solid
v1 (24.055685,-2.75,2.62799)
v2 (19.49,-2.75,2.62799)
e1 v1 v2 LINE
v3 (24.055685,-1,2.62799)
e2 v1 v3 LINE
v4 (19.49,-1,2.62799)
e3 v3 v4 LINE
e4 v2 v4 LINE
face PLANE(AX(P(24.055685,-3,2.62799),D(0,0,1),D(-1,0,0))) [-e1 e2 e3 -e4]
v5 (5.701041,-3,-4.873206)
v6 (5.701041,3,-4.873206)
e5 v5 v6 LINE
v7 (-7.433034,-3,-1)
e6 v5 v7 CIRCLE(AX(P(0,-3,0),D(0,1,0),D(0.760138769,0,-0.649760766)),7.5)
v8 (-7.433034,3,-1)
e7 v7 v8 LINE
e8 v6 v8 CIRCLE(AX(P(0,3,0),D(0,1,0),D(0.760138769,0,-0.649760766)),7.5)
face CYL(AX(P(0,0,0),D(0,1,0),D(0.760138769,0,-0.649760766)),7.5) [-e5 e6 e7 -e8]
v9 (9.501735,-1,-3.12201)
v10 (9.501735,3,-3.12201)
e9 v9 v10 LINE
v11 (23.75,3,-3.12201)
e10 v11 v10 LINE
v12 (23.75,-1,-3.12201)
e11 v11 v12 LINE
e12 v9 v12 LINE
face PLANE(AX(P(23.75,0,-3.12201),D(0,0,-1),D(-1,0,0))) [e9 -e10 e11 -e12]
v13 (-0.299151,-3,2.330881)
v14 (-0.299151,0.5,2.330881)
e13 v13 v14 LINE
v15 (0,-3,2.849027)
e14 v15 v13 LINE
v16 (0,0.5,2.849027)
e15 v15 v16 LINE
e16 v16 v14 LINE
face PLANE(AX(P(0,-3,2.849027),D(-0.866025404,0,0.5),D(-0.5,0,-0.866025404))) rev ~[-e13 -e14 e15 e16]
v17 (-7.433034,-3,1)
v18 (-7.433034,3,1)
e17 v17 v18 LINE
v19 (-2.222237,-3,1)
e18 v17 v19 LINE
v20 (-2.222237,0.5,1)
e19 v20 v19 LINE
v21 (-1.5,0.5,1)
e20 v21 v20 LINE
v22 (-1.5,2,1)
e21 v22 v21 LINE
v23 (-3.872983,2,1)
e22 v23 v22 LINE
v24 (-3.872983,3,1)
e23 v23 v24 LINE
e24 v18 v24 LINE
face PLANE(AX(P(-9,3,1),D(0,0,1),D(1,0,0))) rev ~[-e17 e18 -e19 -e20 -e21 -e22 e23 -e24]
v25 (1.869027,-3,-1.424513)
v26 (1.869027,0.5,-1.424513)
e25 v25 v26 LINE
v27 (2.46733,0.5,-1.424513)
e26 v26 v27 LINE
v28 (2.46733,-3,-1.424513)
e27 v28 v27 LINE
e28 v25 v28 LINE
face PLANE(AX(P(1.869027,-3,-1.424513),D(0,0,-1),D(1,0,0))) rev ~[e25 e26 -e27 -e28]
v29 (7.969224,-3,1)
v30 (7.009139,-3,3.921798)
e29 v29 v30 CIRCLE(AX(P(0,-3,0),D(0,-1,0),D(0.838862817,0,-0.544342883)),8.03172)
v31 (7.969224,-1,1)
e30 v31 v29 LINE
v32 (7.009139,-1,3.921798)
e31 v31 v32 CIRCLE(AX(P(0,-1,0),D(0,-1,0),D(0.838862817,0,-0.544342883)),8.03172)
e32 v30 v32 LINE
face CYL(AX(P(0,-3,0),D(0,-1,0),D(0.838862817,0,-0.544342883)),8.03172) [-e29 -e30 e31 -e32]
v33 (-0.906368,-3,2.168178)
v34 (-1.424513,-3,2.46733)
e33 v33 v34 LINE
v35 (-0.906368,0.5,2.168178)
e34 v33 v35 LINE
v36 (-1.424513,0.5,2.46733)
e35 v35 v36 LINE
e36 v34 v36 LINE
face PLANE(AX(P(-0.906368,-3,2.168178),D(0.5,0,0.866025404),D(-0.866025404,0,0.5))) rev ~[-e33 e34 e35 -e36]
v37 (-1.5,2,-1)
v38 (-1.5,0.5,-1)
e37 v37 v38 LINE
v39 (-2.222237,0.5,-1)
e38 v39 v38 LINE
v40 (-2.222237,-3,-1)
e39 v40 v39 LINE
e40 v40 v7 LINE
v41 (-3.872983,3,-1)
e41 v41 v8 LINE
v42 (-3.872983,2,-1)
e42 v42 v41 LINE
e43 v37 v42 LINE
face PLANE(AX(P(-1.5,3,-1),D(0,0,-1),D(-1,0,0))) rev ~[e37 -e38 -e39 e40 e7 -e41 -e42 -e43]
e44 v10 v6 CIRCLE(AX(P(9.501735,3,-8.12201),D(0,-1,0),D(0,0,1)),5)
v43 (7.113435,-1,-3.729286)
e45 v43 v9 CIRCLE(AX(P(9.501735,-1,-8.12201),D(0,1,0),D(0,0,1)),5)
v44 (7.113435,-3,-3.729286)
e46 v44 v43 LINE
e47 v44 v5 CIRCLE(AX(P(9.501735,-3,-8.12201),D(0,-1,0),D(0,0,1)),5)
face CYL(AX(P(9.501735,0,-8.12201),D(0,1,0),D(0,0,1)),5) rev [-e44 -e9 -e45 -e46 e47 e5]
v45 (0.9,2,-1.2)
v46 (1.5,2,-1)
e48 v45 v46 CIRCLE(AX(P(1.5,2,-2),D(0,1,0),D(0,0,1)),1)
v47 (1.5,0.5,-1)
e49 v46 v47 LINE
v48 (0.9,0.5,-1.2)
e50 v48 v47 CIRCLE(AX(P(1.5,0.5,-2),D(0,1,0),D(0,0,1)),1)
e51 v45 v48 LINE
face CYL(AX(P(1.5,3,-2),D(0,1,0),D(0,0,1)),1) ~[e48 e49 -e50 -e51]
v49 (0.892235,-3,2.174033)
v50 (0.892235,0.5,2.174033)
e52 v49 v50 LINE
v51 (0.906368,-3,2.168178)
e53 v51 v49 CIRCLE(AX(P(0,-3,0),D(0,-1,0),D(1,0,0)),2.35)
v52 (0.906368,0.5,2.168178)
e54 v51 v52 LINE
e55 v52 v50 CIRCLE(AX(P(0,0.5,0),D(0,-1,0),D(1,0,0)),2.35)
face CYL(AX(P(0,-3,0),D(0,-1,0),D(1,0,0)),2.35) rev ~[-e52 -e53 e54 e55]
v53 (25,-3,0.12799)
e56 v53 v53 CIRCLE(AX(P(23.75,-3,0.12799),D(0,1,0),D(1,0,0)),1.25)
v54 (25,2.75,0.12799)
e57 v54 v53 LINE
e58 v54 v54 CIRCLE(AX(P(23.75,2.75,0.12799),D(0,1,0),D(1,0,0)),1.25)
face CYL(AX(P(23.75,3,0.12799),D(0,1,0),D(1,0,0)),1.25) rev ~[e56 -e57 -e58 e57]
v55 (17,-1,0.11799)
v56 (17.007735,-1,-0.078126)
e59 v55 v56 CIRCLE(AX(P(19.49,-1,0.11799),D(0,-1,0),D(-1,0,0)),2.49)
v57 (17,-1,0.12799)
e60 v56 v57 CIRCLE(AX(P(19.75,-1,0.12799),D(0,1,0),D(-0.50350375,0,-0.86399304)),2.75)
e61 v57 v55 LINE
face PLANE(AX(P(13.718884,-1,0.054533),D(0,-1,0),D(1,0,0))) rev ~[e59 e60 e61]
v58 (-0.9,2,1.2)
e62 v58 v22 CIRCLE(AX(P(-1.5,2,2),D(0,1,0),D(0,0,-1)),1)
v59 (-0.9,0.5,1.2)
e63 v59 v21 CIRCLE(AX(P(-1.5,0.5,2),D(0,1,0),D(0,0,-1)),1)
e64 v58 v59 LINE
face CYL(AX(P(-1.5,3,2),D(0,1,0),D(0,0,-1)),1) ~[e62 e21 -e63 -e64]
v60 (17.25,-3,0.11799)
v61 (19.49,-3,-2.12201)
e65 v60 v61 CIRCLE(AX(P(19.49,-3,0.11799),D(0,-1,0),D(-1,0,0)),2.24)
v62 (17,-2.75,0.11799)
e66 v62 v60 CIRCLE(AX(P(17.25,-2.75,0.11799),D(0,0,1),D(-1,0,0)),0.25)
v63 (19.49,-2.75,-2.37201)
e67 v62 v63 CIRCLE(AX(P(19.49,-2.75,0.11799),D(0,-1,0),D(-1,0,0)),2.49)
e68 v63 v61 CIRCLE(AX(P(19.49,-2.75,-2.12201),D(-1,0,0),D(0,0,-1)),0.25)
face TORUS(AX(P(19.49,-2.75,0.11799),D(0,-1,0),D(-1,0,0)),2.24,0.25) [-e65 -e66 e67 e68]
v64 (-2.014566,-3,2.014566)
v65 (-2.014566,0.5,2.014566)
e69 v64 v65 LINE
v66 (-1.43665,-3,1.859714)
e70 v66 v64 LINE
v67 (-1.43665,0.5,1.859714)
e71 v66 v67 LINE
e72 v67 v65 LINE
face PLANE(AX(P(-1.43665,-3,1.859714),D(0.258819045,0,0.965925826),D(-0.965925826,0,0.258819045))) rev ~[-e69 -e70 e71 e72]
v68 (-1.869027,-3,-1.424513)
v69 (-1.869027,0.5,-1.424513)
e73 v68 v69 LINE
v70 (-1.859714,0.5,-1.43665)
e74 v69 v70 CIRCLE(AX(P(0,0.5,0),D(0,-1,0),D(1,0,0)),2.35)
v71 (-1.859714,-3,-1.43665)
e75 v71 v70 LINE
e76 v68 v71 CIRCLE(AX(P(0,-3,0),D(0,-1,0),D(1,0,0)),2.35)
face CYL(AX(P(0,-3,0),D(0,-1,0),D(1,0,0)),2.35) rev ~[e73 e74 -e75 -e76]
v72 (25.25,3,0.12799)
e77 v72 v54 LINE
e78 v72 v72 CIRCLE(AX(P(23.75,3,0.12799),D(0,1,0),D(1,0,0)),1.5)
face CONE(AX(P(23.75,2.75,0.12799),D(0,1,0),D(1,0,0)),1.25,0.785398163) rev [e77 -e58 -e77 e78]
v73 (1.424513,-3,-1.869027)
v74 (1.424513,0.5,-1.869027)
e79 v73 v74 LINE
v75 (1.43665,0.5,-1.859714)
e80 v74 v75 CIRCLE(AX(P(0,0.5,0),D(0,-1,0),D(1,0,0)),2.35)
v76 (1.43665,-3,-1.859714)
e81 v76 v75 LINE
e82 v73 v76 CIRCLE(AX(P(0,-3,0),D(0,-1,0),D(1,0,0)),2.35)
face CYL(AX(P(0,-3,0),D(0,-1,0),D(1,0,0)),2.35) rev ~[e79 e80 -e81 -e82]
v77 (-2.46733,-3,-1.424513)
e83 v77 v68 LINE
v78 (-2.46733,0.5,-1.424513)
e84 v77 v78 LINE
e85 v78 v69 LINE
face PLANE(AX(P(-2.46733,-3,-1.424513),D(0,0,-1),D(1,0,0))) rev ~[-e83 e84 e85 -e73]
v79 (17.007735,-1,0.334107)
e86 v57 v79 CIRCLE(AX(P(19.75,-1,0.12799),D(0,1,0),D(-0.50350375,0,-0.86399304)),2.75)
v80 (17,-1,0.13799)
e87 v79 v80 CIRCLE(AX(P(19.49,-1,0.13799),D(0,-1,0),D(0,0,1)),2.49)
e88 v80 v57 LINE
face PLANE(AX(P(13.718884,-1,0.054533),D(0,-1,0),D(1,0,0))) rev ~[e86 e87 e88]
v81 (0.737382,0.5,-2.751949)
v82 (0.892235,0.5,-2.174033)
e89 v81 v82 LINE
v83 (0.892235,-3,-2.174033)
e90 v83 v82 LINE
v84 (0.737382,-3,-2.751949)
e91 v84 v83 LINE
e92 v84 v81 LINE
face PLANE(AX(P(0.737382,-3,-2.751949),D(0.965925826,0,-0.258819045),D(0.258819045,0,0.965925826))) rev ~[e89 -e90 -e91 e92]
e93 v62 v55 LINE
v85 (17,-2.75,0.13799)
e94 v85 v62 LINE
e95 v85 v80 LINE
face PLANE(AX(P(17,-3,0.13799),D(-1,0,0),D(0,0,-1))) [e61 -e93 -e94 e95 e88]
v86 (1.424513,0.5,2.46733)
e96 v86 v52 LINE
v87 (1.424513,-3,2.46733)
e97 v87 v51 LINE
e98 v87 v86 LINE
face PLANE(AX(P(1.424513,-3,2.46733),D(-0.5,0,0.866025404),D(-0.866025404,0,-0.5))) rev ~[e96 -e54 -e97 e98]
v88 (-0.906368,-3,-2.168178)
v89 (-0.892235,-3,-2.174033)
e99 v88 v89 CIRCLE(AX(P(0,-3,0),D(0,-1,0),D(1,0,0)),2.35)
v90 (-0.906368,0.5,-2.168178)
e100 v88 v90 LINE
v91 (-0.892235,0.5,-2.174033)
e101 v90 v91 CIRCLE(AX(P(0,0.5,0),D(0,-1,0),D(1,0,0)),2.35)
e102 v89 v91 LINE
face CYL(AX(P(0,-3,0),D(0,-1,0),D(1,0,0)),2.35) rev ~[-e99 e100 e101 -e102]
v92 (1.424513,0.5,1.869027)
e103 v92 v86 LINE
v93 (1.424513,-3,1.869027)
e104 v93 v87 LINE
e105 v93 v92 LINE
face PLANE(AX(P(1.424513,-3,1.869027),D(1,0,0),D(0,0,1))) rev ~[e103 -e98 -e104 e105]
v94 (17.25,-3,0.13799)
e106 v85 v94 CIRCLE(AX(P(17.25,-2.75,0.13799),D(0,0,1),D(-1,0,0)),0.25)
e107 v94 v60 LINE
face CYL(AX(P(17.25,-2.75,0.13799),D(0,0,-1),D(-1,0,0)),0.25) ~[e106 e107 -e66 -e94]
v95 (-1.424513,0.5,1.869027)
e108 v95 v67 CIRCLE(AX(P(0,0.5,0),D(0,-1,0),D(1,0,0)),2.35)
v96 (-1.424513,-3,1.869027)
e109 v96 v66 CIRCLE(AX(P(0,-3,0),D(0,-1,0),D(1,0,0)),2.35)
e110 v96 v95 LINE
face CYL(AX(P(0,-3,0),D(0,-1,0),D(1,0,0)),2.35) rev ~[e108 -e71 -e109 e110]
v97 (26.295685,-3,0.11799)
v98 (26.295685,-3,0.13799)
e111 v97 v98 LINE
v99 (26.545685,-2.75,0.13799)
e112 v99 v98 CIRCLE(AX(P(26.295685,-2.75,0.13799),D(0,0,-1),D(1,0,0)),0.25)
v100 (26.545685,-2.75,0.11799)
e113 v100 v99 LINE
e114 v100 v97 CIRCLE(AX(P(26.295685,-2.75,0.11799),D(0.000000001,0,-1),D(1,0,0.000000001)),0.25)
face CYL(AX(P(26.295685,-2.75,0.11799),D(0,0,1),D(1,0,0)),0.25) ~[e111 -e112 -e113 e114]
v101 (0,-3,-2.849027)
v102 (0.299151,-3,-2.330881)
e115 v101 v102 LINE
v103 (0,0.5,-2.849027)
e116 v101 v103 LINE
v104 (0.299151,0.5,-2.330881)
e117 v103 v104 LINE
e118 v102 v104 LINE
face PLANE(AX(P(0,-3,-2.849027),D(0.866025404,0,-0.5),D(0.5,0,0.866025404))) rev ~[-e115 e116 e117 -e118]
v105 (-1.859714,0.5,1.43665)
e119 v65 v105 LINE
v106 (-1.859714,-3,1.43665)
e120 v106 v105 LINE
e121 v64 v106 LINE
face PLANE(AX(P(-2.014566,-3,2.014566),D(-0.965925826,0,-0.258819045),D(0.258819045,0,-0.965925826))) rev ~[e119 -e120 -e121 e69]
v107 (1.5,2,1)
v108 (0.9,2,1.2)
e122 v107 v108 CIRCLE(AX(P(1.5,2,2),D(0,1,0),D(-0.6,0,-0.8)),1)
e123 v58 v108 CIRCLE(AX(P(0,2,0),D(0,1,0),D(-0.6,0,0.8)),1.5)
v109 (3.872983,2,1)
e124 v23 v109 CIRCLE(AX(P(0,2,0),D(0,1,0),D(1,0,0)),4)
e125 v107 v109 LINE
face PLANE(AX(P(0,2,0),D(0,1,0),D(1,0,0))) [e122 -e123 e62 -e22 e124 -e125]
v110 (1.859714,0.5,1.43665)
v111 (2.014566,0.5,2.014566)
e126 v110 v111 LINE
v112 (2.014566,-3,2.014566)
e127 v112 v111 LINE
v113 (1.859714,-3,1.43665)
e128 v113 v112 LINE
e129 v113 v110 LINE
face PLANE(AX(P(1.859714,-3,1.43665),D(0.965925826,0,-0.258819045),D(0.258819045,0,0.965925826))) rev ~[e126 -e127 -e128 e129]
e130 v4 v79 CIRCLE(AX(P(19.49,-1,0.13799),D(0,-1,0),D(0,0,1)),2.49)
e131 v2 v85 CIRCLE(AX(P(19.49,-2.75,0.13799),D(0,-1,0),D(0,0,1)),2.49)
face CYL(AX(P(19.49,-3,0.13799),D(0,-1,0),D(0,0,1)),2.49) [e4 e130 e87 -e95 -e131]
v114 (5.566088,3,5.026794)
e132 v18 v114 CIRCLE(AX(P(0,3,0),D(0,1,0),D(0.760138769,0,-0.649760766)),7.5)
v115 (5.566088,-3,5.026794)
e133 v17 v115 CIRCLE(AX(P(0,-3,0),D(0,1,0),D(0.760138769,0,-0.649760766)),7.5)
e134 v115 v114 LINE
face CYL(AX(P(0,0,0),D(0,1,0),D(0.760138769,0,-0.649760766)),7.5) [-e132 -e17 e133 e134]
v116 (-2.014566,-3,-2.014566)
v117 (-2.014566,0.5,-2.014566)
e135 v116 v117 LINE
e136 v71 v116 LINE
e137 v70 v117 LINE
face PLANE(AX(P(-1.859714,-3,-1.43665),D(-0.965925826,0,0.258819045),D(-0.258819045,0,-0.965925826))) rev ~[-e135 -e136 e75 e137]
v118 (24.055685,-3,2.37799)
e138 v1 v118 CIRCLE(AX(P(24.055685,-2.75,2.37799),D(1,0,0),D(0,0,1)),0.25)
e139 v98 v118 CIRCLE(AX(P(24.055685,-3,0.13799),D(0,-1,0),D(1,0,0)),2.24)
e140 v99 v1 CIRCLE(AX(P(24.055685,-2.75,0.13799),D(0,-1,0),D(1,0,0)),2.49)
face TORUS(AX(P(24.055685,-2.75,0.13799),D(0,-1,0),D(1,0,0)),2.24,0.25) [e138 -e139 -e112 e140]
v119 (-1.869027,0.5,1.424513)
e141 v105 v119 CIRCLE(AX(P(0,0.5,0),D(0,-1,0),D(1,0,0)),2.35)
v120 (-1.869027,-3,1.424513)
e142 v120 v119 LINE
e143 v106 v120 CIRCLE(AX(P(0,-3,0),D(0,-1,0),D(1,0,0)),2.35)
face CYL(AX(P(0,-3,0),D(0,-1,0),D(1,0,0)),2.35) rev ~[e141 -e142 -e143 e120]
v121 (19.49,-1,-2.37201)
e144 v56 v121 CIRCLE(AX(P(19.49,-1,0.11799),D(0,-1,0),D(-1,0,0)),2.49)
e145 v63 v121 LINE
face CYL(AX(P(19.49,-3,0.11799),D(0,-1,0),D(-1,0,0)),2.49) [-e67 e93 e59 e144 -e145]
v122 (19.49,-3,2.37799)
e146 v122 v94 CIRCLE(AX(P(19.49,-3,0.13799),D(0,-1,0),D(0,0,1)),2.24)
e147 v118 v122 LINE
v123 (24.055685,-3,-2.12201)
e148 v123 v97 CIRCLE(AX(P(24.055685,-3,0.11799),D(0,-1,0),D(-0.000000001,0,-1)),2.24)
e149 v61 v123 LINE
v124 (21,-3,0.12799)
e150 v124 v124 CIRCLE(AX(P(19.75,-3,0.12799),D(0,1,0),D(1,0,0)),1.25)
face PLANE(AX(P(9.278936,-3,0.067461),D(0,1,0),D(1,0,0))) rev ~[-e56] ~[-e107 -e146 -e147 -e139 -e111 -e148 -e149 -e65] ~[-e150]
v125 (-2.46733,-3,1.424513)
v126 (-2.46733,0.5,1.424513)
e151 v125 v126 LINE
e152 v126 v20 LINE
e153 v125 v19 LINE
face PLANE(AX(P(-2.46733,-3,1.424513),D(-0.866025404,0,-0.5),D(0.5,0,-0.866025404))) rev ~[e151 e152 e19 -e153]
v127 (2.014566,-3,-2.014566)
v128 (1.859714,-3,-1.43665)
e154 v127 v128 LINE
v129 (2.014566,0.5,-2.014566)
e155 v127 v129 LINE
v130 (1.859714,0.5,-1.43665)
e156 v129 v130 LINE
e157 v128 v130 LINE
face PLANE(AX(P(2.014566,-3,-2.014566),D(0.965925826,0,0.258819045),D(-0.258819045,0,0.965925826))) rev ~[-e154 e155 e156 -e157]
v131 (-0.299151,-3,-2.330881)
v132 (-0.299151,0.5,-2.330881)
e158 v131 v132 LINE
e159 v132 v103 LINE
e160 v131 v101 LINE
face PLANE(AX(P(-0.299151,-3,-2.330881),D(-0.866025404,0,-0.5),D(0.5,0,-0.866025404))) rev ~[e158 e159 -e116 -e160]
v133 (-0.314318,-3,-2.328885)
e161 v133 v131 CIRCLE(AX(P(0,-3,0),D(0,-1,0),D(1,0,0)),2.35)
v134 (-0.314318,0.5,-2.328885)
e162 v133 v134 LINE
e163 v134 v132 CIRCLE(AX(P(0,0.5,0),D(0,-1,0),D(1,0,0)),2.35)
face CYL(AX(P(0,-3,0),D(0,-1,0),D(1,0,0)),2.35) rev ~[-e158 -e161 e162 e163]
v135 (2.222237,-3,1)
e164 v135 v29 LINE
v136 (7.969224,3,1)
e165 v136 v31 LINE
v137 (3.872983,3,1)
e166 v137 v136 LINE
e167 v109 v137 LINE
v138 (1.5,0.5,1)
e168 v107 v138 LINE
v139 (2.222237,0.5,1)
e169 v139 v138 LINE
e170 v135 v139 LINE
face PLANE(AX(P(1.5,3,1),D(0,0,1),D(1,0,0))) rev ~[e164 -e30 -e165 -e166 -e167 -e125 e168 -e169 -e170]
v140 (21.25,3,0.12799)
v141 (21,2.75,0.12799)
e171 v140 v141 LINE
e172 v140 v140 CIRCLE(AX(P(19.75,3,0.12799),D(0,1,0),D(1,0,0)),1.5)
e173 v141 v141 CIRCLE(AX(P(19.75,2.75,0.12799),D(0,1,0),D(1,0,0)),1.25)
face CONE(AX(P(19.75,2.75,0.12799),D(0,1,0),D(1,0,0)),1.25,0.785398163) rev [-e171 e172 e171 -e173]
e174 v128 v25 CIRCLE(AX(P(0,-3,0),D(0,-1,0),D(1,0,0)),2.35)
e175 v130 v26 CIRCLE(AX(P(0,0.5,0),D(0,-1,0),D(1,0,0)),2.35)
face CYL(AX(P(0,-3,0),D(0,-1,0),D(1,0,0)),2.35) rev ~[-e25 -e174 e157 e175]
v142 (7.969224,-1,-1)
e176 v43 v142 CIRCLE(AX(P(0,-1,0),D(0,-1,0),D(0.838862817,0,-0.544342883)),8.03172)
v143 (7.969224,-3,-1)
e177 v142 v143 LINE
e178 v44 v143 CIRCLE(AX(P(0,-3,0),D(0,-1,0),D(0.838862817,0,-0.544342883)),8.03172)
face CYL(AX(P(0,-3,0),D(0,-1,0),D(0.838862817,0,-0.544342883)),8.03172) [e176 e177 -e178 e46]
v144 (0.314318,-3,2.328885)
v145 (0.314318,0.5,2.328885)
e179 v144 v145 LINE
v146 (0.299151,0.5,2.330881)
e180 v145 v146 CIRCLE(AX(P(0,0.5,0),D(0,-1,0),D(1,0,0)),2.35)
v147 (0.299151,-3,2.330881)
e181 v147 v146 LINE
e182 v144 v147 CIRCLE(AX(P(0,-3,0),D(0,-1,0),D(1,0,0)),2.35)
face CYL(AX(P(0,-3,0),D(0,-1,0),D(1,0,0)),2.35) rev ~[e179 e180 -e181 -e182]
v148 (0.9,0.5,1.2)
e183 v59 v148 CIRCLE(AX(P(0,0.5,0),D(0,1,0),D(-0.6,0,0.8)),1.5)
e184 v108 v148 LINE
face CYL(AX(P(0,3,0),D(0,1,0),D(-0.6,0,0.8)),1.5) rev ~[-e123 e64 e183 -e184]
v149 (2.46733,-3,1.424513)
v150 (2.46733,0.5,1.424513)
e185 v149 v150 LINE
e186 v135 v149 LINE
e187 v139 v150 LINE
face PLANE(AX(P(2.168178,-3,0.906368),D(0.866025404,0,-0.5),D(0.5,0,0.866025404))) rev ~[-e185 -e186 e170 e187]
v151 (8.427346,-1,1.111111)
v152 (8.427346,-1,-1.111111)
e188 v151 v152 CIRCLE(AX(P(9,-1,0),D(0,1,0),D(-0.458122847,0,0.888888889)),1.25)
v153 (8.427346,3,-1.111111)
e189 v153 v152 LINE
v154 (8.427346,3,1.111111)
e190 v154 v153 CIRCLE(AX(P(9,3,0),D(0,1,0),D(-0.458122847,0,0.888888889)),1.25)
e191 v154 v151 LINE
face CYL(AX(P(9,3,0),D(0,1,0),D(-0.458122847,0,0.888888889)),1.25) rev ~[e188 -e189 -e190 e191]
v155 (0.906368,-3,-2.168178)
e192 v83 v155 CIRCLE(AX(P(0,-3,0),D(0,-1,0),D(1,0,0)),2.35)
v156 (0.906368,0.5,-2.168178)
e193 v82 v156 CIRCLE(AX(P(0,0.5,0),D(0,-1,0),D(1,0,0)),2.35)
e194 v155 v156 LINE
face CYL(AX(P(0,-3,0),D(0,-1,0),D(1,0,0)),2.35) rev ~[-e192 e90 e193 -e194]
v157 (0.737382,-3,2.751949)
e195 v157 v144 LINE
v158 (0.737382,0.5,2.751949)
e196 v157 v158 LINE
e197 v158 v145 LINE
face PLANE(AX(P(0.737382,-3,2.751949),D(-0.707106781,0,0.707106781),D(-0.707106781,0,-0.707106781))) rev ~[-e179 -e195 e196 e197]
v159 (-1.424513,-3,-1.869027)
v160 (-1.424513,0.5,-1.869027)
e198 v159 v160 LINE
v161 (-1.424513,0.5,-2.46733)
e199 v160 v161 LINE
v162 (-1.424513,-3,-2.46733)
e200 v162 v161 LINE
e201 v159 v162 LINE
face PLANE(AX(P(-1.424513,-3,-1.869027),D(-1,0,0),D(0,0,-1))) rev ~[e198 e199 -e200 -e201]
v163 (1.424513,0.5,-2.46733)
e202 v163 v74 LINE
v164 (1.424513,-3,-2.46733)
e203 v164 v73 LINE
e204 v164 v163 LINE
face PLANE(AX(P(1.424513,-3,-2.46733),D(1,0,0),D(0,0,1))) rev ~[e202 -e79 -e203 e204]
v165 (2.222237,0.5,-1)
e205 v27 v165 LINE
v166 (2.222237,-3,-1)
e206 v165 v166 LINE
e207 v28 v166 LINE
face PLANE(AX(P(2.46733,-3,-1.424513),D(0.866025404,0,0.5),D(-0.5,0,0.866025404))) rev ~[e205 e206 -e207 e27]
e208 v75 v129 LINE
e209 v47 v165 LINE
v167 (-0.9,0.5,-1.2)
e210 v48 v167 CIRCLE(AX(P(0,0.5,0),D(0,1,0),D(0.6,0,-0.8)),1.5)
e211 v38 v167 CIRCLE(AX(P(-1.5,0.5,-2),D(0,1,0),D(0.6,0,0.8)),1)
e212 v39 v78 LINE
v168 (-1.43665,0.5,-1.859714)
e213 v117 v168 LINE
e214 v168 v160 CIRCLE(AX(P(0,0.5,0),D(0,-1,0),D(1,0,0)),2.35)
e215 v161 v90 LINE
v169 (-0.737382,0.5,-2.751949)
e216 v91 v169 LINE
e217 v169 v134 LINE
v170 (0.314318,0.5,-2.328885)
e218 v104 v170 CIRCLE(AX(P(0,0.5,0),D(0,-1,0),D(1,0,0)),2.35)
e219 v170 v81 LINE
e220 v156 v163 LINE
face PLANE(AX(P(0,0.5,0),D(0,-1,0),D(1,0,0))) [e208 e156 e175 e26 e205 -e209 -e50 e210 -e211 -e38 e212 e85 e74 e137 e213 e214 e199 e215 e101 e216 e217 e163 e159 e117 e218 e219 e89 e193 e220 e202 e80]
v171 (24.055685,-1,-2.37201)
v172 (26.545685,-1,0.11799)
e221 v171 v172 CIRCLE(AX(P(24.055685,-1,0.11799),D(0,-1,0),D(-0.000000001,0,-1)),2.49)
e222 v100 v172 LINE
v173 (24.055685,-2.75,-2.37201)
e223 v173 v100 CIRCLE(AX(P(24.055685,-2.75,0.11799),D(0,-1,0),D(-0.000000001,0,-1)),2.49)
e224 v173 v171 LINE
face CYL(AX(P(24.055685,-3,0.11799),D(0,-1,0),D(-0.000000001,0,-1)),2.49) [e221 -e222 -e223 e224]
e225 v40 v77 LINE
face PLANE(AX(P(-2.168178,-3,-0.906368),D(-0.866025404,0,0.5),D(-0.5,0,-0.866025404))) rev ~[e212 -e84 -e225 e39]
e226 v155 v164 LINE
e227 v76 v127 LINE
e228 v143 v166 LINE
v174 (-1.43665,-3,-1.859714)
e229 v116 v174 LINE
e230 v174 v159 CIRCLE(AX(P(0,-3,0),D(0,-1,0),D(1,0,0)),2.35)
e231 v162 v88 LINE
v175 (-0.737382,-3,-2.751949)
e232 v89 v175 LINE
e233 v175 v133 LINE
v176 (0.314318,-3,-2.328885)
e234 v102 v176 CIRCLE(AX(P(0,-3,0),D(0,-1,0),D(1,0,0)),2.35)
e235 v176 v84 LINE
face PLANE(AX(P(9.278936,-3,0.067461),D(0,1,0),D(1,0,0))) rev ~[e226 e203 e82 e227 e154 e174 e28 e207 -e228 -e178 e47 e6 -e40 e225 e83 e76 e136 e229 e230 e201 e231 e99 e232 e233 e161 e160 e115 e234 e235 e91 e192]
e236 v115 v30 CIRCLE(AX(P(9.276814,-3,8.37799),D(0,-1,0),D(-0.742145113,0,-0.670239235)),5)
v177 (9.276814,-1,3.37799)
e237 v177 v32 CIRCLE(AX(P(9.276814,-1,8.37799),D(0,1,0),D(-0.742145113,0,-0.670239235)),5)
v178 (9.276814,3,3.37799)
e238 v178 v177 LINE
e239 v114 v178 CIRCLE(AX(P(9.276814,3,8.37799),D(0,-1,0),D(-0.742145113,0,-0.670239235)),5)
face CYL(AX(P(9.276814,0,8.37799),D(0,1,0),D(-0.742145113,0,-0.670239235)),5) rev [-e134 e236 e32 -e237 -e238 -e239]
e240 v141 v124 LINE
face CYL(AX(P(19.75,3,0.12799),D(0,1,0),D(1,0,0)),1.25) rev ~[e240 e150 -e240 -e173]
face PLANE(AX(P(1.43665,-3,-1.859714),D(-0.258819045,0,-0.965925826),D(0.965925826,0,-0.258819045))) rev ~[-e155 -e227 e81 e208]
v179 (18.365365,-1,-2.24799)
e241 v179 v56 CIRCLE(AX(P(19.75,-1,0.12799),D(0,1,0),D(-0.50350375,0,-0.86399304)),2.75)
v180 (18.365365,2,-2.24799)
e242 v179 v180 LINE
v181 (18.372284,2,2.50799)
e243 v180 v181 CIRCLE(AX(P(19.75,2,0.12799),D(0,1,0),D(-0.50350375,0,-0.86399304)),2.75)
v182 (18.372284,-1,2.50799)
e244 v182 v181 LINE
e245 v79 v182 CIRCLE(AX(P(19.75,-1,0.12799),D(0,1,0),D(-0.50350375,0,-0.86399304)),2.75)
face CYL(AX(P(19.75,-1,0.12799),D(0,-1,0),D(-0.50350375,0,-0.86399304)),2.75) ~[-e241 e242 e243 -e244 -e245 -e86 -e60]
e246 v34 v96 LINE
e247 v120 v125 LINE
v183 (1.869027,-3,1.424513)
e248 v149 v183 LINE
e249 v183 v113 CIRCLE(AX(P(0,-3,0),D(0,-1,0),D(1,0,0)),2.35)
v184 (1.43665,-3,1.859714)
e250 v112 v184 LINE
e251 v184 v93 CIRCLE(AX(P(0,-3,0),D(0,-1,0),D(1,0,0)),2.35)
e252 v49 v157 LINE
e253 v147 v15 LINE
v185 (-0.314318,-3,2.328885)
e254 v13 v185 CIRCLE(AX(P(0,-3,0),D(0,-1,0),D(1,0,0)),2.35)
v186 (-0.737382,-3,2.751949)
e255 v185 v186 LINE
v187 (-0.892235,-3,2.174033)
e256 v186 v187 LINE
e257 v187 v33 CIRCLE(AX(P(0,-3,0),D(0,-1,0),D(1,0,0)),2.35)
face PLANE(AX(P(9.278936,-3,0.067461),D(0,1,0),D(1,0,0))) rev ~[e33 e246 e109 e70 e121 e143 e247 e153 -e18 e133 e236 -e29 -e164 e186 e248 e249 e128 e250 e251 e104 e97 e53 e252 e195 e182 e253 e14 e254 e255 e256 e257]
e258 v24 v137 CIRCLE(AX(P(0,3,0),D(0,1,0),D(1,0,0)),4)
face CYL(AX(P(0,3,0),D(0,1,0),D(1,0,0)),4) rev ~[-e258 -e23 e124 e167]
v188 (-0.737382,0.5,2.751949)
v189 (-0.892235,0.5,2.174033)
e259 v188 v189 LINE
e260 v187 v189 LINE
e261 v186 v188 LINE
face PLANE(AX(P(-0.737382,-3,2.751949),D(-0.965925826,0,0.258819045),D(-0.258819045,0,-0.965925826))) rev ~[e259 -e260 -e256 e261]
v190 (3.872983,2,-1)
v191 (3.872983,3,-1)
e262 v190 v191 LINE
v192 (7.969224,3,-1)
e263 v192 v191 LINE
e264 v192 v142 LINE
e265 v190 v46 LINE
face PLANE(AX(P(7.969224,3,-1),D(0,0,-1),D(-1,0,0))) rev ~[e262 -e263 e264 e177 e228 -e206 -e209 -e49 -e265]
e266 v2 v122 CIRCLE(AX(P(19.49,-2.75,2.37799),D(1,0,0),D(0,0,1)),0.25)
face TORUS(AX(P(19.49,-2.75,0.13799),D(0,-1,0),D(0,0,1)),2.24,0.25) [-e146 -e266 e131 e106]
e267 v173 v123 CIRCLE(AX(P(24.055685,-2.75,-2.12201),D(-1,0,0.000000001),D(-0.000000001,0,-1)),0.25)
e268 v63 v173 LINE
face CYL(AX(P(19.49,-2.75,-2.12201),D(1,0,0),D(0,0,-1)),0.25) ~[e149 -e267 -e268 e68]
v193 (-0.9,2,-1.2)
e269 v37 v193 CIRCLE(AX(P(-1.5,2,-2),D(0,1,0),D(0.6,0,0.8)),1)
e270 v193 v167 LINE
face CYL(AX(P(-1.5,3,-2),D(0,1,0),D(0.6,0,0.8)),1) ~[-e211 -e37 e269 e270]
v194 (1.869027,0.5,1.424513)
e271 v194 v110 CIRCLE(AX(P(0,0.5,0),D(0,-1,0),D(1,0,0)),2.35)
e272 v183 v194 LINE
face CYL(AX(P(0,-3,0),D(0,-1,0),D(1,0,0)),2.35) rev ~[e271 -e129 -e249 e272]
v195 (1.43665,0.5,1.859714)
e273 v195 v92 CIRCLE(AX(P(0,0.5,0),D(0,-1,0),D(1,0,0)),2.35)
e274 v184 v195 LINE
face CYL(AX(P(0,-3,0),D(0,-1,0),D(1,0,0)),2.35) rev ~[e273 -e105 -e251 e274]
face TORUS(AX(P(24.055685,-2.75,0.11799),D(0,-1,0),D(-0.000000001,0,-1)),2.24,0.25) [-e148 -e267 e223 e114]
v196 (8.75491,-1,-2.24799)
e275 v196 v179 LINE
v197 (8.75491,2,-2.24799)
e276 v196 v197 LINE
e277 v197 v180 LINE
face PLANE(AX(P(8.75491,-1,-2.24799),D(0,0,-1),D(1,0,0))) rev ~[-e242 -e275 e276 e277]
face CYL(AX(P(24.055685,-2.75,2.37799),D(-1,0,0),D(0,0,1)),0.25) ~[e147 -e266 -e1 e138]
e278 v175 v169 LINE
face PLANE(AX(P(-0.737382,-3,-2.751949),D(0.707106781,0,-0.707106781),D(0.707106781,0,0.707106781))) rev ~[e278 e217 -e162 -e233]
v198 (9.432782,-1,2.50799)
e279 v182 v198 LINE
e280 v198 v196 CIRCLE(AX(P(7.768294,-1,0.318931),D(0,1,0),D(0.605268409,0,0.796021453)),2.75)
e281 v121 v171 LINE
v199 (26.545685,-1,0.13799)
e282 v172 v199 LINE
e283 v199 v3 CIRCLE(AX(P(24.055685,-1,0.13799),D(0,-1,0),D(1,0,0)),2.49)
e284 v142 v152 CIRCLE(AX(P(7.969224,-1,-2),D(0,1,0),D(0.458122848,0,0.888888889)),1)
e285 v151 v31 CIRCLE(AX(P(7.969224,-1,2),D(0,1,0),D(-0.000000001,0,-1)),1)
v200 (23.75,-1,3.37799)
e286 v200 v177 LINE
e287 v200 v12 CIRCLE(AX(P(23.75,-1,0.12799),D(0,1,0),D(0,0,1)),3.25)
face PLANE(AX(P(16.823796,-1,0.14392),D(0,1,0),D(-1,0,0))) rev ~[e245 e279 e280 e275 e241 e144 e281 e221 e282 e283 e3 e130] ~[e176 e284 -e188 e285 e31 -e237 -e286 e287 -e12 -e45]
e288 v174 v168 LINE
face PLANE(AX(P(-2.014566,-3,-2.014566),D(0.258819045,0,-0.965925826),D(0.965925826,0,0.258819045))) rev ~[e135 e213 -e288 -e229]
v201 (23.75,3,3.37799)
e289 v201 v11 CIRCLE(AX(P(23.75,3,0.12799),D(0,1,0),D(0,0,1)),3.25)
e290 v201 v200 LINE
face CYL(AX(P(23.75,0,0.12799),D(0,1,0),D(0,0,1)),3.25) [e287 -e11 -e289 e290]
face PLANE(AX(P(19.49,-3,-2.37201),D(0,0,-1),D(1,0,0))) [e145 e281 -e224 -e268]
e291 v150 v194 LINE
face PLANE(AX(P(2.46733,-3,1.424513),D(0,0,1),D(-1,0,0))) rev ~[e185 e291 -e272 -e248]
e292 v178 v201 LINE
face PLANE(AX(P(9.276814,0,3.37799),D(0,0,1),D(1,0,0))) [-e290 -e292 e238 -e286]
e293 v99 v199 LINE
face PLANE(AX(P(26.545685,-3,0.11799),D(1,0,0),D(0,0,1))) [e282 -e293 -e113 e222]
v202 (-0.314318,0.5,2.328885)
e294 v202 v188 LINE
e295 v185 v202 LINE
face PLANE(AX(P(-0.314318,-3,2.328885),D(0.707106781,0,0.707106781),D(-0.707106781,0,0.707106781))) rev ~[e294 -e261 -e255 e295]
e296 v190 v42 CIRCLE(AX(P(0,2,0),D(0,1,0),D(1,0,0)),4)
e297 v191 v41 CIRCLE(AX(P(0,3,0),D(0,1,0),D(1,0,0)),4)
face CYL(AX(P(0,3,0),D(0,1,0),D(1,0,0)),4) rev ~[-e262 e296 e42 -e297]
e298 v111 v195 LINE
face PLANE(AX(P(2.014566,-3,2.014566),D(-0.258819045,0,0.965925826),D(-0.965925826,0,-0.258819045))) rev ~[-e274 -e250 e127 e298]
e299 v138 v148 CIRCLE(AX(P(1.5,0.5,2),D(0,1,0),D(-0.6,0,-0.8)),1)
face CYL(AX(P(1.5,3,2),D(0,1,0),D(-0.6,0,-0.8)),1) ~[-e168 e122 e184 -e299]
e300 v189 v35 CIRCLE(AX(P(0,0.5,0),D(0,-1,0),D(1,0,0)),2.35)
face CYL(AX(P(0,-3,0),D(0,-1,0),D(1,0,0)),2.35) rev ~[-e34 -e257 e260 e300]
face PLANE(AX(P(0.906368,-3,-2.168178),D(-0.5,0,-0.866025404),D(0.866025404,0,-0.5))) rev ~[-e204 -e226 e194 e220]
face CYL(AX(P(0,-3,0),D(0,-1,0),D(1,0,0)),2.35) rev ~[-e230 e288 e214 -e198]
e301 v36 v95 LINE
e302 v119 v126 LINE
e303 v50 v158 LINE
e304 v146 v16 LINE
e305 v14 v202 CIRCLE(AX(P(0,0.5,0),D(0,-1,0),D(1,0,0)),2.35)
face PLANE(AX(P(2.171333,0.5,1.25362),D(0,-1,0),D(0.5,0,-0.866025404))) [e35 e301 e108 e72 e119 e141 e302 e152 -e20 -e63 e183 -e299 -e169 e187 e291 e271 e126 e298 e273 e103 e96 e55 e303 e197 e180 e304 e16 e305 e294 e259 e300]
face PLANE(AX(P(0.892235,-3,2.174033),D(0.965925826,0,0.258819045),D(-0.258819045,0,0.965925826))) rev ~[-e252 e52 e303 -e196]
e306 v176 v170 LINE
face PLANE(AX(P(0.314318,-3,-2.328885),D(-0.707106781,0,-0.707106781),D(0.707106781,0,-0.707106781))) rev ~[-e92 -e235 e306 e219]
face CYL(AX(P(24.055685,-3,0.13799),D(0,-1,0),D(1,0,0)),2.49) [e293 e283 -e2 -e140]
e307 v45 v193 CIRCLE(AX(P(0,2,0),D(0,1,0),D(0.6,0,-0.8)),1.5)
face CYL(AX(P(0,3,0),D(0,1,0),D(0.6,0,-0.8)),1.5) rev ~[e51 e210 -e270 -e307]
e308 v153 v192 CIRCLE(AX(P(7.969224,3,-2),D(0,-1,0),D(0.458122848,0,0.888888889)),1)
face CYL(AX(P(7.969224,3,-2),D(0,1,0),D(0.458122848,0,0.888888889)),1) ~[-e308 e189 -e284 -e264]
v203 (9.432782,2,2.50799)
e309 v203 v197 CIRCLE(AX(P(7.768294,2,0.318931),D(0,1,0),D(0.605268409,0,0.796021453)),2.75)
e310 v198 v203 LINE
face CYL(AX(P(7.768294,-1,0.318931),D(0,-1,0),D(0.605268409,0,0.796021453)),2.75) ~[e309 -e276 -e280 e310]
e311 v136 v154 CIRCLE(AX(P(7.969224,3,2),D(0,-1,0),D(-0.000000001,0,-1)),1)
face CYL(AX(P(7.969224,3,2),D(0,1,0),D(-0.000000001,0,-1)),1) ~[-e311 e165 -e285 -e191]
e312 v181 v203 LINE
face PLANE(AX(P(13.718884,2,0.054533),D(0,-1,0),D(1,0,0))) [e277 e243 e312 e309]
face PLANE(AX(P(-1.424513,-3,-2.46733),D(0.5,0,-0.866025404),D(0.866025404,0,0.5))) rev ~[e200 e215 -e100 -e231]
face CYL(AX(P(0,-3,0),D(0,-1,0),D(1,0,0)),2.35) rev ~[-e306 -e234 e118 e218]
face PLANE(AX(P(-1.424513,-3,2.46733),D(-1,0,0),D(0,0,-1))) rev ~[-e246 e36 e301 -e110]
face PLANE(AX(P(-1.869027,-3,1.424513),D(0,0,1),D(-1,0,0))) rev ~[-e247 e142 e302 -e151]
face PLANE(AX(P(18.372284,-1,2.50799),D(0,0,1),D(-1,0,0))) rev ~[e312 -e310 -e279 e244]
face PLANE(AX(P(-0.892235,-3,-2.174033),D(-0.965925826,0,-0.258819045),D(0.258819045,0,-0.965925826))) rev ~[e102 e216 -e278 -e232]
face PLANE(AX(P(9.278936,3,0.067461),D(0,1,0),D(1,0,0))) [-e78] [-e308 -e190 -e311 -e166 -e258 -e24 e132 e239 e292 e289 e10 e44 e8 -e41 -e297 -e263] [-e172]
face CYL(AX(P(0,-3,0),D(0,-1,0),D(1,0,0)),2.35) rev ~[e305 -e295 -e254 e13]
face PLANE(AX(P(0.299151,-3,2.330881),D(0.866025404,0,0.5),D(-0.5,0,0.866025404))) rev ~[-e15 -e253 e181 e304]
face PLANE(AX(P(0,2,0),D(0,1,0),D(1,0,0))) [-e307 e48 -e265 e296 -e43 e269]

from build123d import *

# Parameters (mm, degrees)
BOSS_EXTRUDE1_DEPTH = 3
SKETCH2_R           = 1.25
CUT_EXTRUDE1_DEPTH  = 16
CHAMFER1_SIZE       = 0.25
SKETCH3_R           = 4
CUT_EXTRUDE2_DEPTH  = 1
CUT_EXTRUDE3_DEPTH  = 11
CUT_EXTRUDE4_DEPTH  = 2
FILLET1_R           = 0.25
CUT_EXTRUDE5_DEPTH  = 3
SKETCH7_R           = 2.35
CUT_EXTRUDE6_DEPTH  = 3.5
CUT_EXTRUDE7_DEPTH  = 3.5
CIRPATTERN1_COUNT   = 24


with BuildPart() as part:
    # Sketch1 → Boss-Extrude1 (new body, symmetric)
    with BuildSketch(Plane(origin=(0, 0, 0), x_dir=(1, 0, 0), z_dir=(0, 1, 0))):
        with BuildLine():
            Line((23.75, 3.122009569), (9.501734608, 3.122009569))
            ThreePointArc((9.501734608, 3.122009569), (7.409369814, 3.580863286), (5.701040765, 4.873205742))
            ThreePointArc((5.701040765, 4.873205742), (-7.499303275, 0.102227183), (5.566088347, -5.026794258))
            ThreePointArc((5.566088347, -5.026794258), (7.246540637, -3.808746464), (9.276813911, -3.377990431))
            Line((9.276813911, -3.377990431), (23.75, -3.377990431))
            ThreePointArc((23.75, -3.377990431), (27, -0.127990431), (23.75, 3.122009569))
        make_face()
    extrude(amount=BOSS_EXTRUDE1_DEPTH, both=True)

    # Sketch2 → Cut-Extrude1 (cut)
    with BuildSketch(Plane(origin=(0, 3, 0), x_dir=(1, 0, 0), z_dir=(0, 1, 0))):
        with Locations((23.75, -0.127990431)):
            Circle(SKETCH2_R)
        with Locations((19.75, -0.127990431)):
            Circle(SKETCH2_R)
    extrude(amount=-CUT_EXTRUDE1_DEPTH, mode=Mode.SUBTRACT)

    # Chamfer1
    chamfer1_edges = [part.edges().sort_by_distance(p)[0] for p in [
        (22.5, 3, 0.127990431),
        (18.5, 3, 0.127990431),
    ]]
    chamfer(chamfer1_edges, length=CHAMFER1_SIZE)

    # Sketch3 → Cut-Extrude2 (cut)
    with BuildSketch(Plane(origin=(0, 3, 0), x_dir=(1, 0, 0), z_dir=(0, 1, 0))):
        Circle(SKETCH3_R)
    extrude(amount=-CUT_EXTRUDE2_DEPTH, mode=Mode.SUBTRACT)

    # Sketch4 → Cut-Extrude3 (cut)
    with BuildSketch(Plane(origin=(0, 3, 0), x_dir=(1, 0, 0), z_dir=(0, 1, 0))):
        with BuildLine():
            Line((-1.5, 1), (-9, 1))
            Line((-9, 1), (-9, -1))
            Line((-9, -1), (-1.5, -1))
            ThreePointArc((-1.5, -1), (-1.183772234, -1.051316702), (-0.9, -1.2))
            ThreePointArc((-0.9, -1.2), (0, -1.5), (0.9, -1.2))
            ThreePointArc((0.9, -1.2), (1.183772234, -1.051316702), (1.5, -1))
            Line((1.5, -1), (7.969223594, -1))
            ThreePointArc((7.969223594, -1), (8.204925854, -1.028174684), (8.427346441, -1.111111111))
            ThreePointArc((8.427346441, -1.111111111), (10.25, 0), (8.427346441, 1.111111111))
            ThreePointArc((8.427346441, 1.111111111), (8.204925854, 1.028174684), (7.969223594, 1))
            Line((7.969223594, 1), (1.5, 1))
            ThreePointArc((1.5, 1), (1.183772234, 1.051316702), (0.9, 1.2))
            ThreePointArc((0.9, 1.2), (0, 1.5), (-0.9, 1.2))
            ThreePointArc((-0.9, 1.2), (-1.183772234, 1.051316702), (-1.5, 1))
        make_face()
    extrude(amount=-CUT_EXTRUDE3_DEPTH, mode=Mode.SUBTRACT)

    # Sketch5 → Cut-Extrude4 (cut)
    with BuildSketch(Plane.XZ.offset(3)):
        with BuildLine():
            Line((24.055684797, -4.372009569), (19.49, -4.372009569))
            Line((19.49, -4.372009569), (6.737511188, -4.372009569))
            ThreePointArc((6.737511188, -4.372009569), (8.030233116, 0.154534121), (6.564314835, 4.627990431))
            Line((6.564314835, 4.627990431), (19.49, 4.627990431))
            Line((19.49, 4.627990431), (24.055684797, 4.627990431))
            ThreePointArc((24.055684797, 4.627990431), (27.230594245, 3.312899878), (28.545684797, 0.137990431))
            Line((28.545684797, 0.137990431), (28.545684797, 0.117990431))
            ThreePointArc((28.545684797, 0.117990431), (27.230594245, -3.056919017), (24.055684797, -4.372009569))
        make_face()
        with BuildLine():
            Line((24.055684797, 2.627990431), (19.49, 2.627990431))
            ThreePointArc((19.49, 2.627990431), (17.729304115, 1.898686316), (17, 0.137990431))
            Line((17, 0.137990431), (17, 0.117990431))
            ThreePointArc((17, 0.117990431), (17.729304115, -1.642705455), (19.49, -2.372009569))
            Line((19.49, -2.372009569), (24.055684797, -2.372009569))
            ThreePointArc((24.055684797, -2.372009569), (25.816380683, -1.642705455), (26.545684797, 0.117990431))
            Line((26.545684797, 0.117990431), (26.545684797, 0.137990431))
            ThreePointArc((26.545684797, 0.137990431), (25.816380683, 1.898686316), (24.055684797, 2.627990431))
        make_face(mode=Mode.SUBTRACT)
    extrude(amount=-CUT_EXTRUDE4_DEPTH, mode=Mode.SUBTRACT)

    # Fillet1
    fillet1_edges = [part.edges().sort_by_distance(p)[0] for p in [
        (25.816380683, -3, -1.642705455),
        (21.772842399, -3, -2.372009569),
        (17.729304115, -3, -1.642705455),
        (17, -3, 0.127990431),
        (17.729304115, -3, 1.898686316),
        (21.772842399, -3, 2.627990431),
        (25.816380683, -3, 1.898686316),
        (26.545684797, -3, 0.127990431),
    ]]
    fillet(fillet1_edges, radius=FILLET1_R)

    # Sketch6 → Cut-Extrude5 (cut)
    with BuildSketch(Plane.XZ.offset(1)):
        with BuildLine():
            Line((16.572326108, 2.507990431), (10.678705054, 2.507990431))
            Line((10.678705054, 2.507990431), (9.432782088, 2.507990431))
            ThreePointArc((9.432782088, 2.507990431), (10.490779488, -0.069105379), (8.754910472, -2.247990431))
            Line((8.754910472, -2.247990431), (10.678705054, -2.247990431))
            Line((10.678705054, -2.247990431), (16.572326108, -2.247990431))
            Line((16.572326108, -2.247990431), (18.365364688, -2.247990431))
            ThreePointArc((18.365364688, -2.247990431), (17.000002911, 0.131991595), (18.3722845, 2.507990431))
            Line((18.3722845, 2.507990431), (16.572326108, 2.507990431))
        make_face()
    extrude(amount=-CUT_EXTRUDE5_DEPTH, mode=Mode.SUBTRACT)

    # Sketch7 → Cut-Extrude6 (cut)
    with BuildSketch(Plane.XZ.offset(3)):
        Circle(SKETCH7_R)
    extrude(amount=-CUT_EXTRUDE6_DEPTH, mode=Mode.SUBTRACT)

    # Sketch8 → Cut-Extrude7 (cut)
    with BuildSketch(Plane.XZ.offset(3)):
        with BuildLine():
            ThreePointArc((-0.299151371, 2.330881476), (0, 2.35), (0.299151371, 2.330881476))
            Line((0.299151371, 2.330881476), (0, 2.84902685))
            Line((0, 2.84902685), (-0.299151371, 2.330881476))
        make_face()
    cut_extrude7 = extrude(amount=-CUT_EXTRUDE7_DEPTH, mode=Mode.SUBTRACT)

    # CirPattern1: Cut-Extrude7 ×24 about axis
    cirpattern1_axis = Axis((0, 0, 0), (0, 1, 0))
    for i in range(1, CIRPATTERN1_COUNT):
        add(cut_extrude7.rotate(cirpattern1_axis, i * 360 / CIRPATTERN1_COUNT), mode=Mode.SUBTRACT)


solid = part.part
